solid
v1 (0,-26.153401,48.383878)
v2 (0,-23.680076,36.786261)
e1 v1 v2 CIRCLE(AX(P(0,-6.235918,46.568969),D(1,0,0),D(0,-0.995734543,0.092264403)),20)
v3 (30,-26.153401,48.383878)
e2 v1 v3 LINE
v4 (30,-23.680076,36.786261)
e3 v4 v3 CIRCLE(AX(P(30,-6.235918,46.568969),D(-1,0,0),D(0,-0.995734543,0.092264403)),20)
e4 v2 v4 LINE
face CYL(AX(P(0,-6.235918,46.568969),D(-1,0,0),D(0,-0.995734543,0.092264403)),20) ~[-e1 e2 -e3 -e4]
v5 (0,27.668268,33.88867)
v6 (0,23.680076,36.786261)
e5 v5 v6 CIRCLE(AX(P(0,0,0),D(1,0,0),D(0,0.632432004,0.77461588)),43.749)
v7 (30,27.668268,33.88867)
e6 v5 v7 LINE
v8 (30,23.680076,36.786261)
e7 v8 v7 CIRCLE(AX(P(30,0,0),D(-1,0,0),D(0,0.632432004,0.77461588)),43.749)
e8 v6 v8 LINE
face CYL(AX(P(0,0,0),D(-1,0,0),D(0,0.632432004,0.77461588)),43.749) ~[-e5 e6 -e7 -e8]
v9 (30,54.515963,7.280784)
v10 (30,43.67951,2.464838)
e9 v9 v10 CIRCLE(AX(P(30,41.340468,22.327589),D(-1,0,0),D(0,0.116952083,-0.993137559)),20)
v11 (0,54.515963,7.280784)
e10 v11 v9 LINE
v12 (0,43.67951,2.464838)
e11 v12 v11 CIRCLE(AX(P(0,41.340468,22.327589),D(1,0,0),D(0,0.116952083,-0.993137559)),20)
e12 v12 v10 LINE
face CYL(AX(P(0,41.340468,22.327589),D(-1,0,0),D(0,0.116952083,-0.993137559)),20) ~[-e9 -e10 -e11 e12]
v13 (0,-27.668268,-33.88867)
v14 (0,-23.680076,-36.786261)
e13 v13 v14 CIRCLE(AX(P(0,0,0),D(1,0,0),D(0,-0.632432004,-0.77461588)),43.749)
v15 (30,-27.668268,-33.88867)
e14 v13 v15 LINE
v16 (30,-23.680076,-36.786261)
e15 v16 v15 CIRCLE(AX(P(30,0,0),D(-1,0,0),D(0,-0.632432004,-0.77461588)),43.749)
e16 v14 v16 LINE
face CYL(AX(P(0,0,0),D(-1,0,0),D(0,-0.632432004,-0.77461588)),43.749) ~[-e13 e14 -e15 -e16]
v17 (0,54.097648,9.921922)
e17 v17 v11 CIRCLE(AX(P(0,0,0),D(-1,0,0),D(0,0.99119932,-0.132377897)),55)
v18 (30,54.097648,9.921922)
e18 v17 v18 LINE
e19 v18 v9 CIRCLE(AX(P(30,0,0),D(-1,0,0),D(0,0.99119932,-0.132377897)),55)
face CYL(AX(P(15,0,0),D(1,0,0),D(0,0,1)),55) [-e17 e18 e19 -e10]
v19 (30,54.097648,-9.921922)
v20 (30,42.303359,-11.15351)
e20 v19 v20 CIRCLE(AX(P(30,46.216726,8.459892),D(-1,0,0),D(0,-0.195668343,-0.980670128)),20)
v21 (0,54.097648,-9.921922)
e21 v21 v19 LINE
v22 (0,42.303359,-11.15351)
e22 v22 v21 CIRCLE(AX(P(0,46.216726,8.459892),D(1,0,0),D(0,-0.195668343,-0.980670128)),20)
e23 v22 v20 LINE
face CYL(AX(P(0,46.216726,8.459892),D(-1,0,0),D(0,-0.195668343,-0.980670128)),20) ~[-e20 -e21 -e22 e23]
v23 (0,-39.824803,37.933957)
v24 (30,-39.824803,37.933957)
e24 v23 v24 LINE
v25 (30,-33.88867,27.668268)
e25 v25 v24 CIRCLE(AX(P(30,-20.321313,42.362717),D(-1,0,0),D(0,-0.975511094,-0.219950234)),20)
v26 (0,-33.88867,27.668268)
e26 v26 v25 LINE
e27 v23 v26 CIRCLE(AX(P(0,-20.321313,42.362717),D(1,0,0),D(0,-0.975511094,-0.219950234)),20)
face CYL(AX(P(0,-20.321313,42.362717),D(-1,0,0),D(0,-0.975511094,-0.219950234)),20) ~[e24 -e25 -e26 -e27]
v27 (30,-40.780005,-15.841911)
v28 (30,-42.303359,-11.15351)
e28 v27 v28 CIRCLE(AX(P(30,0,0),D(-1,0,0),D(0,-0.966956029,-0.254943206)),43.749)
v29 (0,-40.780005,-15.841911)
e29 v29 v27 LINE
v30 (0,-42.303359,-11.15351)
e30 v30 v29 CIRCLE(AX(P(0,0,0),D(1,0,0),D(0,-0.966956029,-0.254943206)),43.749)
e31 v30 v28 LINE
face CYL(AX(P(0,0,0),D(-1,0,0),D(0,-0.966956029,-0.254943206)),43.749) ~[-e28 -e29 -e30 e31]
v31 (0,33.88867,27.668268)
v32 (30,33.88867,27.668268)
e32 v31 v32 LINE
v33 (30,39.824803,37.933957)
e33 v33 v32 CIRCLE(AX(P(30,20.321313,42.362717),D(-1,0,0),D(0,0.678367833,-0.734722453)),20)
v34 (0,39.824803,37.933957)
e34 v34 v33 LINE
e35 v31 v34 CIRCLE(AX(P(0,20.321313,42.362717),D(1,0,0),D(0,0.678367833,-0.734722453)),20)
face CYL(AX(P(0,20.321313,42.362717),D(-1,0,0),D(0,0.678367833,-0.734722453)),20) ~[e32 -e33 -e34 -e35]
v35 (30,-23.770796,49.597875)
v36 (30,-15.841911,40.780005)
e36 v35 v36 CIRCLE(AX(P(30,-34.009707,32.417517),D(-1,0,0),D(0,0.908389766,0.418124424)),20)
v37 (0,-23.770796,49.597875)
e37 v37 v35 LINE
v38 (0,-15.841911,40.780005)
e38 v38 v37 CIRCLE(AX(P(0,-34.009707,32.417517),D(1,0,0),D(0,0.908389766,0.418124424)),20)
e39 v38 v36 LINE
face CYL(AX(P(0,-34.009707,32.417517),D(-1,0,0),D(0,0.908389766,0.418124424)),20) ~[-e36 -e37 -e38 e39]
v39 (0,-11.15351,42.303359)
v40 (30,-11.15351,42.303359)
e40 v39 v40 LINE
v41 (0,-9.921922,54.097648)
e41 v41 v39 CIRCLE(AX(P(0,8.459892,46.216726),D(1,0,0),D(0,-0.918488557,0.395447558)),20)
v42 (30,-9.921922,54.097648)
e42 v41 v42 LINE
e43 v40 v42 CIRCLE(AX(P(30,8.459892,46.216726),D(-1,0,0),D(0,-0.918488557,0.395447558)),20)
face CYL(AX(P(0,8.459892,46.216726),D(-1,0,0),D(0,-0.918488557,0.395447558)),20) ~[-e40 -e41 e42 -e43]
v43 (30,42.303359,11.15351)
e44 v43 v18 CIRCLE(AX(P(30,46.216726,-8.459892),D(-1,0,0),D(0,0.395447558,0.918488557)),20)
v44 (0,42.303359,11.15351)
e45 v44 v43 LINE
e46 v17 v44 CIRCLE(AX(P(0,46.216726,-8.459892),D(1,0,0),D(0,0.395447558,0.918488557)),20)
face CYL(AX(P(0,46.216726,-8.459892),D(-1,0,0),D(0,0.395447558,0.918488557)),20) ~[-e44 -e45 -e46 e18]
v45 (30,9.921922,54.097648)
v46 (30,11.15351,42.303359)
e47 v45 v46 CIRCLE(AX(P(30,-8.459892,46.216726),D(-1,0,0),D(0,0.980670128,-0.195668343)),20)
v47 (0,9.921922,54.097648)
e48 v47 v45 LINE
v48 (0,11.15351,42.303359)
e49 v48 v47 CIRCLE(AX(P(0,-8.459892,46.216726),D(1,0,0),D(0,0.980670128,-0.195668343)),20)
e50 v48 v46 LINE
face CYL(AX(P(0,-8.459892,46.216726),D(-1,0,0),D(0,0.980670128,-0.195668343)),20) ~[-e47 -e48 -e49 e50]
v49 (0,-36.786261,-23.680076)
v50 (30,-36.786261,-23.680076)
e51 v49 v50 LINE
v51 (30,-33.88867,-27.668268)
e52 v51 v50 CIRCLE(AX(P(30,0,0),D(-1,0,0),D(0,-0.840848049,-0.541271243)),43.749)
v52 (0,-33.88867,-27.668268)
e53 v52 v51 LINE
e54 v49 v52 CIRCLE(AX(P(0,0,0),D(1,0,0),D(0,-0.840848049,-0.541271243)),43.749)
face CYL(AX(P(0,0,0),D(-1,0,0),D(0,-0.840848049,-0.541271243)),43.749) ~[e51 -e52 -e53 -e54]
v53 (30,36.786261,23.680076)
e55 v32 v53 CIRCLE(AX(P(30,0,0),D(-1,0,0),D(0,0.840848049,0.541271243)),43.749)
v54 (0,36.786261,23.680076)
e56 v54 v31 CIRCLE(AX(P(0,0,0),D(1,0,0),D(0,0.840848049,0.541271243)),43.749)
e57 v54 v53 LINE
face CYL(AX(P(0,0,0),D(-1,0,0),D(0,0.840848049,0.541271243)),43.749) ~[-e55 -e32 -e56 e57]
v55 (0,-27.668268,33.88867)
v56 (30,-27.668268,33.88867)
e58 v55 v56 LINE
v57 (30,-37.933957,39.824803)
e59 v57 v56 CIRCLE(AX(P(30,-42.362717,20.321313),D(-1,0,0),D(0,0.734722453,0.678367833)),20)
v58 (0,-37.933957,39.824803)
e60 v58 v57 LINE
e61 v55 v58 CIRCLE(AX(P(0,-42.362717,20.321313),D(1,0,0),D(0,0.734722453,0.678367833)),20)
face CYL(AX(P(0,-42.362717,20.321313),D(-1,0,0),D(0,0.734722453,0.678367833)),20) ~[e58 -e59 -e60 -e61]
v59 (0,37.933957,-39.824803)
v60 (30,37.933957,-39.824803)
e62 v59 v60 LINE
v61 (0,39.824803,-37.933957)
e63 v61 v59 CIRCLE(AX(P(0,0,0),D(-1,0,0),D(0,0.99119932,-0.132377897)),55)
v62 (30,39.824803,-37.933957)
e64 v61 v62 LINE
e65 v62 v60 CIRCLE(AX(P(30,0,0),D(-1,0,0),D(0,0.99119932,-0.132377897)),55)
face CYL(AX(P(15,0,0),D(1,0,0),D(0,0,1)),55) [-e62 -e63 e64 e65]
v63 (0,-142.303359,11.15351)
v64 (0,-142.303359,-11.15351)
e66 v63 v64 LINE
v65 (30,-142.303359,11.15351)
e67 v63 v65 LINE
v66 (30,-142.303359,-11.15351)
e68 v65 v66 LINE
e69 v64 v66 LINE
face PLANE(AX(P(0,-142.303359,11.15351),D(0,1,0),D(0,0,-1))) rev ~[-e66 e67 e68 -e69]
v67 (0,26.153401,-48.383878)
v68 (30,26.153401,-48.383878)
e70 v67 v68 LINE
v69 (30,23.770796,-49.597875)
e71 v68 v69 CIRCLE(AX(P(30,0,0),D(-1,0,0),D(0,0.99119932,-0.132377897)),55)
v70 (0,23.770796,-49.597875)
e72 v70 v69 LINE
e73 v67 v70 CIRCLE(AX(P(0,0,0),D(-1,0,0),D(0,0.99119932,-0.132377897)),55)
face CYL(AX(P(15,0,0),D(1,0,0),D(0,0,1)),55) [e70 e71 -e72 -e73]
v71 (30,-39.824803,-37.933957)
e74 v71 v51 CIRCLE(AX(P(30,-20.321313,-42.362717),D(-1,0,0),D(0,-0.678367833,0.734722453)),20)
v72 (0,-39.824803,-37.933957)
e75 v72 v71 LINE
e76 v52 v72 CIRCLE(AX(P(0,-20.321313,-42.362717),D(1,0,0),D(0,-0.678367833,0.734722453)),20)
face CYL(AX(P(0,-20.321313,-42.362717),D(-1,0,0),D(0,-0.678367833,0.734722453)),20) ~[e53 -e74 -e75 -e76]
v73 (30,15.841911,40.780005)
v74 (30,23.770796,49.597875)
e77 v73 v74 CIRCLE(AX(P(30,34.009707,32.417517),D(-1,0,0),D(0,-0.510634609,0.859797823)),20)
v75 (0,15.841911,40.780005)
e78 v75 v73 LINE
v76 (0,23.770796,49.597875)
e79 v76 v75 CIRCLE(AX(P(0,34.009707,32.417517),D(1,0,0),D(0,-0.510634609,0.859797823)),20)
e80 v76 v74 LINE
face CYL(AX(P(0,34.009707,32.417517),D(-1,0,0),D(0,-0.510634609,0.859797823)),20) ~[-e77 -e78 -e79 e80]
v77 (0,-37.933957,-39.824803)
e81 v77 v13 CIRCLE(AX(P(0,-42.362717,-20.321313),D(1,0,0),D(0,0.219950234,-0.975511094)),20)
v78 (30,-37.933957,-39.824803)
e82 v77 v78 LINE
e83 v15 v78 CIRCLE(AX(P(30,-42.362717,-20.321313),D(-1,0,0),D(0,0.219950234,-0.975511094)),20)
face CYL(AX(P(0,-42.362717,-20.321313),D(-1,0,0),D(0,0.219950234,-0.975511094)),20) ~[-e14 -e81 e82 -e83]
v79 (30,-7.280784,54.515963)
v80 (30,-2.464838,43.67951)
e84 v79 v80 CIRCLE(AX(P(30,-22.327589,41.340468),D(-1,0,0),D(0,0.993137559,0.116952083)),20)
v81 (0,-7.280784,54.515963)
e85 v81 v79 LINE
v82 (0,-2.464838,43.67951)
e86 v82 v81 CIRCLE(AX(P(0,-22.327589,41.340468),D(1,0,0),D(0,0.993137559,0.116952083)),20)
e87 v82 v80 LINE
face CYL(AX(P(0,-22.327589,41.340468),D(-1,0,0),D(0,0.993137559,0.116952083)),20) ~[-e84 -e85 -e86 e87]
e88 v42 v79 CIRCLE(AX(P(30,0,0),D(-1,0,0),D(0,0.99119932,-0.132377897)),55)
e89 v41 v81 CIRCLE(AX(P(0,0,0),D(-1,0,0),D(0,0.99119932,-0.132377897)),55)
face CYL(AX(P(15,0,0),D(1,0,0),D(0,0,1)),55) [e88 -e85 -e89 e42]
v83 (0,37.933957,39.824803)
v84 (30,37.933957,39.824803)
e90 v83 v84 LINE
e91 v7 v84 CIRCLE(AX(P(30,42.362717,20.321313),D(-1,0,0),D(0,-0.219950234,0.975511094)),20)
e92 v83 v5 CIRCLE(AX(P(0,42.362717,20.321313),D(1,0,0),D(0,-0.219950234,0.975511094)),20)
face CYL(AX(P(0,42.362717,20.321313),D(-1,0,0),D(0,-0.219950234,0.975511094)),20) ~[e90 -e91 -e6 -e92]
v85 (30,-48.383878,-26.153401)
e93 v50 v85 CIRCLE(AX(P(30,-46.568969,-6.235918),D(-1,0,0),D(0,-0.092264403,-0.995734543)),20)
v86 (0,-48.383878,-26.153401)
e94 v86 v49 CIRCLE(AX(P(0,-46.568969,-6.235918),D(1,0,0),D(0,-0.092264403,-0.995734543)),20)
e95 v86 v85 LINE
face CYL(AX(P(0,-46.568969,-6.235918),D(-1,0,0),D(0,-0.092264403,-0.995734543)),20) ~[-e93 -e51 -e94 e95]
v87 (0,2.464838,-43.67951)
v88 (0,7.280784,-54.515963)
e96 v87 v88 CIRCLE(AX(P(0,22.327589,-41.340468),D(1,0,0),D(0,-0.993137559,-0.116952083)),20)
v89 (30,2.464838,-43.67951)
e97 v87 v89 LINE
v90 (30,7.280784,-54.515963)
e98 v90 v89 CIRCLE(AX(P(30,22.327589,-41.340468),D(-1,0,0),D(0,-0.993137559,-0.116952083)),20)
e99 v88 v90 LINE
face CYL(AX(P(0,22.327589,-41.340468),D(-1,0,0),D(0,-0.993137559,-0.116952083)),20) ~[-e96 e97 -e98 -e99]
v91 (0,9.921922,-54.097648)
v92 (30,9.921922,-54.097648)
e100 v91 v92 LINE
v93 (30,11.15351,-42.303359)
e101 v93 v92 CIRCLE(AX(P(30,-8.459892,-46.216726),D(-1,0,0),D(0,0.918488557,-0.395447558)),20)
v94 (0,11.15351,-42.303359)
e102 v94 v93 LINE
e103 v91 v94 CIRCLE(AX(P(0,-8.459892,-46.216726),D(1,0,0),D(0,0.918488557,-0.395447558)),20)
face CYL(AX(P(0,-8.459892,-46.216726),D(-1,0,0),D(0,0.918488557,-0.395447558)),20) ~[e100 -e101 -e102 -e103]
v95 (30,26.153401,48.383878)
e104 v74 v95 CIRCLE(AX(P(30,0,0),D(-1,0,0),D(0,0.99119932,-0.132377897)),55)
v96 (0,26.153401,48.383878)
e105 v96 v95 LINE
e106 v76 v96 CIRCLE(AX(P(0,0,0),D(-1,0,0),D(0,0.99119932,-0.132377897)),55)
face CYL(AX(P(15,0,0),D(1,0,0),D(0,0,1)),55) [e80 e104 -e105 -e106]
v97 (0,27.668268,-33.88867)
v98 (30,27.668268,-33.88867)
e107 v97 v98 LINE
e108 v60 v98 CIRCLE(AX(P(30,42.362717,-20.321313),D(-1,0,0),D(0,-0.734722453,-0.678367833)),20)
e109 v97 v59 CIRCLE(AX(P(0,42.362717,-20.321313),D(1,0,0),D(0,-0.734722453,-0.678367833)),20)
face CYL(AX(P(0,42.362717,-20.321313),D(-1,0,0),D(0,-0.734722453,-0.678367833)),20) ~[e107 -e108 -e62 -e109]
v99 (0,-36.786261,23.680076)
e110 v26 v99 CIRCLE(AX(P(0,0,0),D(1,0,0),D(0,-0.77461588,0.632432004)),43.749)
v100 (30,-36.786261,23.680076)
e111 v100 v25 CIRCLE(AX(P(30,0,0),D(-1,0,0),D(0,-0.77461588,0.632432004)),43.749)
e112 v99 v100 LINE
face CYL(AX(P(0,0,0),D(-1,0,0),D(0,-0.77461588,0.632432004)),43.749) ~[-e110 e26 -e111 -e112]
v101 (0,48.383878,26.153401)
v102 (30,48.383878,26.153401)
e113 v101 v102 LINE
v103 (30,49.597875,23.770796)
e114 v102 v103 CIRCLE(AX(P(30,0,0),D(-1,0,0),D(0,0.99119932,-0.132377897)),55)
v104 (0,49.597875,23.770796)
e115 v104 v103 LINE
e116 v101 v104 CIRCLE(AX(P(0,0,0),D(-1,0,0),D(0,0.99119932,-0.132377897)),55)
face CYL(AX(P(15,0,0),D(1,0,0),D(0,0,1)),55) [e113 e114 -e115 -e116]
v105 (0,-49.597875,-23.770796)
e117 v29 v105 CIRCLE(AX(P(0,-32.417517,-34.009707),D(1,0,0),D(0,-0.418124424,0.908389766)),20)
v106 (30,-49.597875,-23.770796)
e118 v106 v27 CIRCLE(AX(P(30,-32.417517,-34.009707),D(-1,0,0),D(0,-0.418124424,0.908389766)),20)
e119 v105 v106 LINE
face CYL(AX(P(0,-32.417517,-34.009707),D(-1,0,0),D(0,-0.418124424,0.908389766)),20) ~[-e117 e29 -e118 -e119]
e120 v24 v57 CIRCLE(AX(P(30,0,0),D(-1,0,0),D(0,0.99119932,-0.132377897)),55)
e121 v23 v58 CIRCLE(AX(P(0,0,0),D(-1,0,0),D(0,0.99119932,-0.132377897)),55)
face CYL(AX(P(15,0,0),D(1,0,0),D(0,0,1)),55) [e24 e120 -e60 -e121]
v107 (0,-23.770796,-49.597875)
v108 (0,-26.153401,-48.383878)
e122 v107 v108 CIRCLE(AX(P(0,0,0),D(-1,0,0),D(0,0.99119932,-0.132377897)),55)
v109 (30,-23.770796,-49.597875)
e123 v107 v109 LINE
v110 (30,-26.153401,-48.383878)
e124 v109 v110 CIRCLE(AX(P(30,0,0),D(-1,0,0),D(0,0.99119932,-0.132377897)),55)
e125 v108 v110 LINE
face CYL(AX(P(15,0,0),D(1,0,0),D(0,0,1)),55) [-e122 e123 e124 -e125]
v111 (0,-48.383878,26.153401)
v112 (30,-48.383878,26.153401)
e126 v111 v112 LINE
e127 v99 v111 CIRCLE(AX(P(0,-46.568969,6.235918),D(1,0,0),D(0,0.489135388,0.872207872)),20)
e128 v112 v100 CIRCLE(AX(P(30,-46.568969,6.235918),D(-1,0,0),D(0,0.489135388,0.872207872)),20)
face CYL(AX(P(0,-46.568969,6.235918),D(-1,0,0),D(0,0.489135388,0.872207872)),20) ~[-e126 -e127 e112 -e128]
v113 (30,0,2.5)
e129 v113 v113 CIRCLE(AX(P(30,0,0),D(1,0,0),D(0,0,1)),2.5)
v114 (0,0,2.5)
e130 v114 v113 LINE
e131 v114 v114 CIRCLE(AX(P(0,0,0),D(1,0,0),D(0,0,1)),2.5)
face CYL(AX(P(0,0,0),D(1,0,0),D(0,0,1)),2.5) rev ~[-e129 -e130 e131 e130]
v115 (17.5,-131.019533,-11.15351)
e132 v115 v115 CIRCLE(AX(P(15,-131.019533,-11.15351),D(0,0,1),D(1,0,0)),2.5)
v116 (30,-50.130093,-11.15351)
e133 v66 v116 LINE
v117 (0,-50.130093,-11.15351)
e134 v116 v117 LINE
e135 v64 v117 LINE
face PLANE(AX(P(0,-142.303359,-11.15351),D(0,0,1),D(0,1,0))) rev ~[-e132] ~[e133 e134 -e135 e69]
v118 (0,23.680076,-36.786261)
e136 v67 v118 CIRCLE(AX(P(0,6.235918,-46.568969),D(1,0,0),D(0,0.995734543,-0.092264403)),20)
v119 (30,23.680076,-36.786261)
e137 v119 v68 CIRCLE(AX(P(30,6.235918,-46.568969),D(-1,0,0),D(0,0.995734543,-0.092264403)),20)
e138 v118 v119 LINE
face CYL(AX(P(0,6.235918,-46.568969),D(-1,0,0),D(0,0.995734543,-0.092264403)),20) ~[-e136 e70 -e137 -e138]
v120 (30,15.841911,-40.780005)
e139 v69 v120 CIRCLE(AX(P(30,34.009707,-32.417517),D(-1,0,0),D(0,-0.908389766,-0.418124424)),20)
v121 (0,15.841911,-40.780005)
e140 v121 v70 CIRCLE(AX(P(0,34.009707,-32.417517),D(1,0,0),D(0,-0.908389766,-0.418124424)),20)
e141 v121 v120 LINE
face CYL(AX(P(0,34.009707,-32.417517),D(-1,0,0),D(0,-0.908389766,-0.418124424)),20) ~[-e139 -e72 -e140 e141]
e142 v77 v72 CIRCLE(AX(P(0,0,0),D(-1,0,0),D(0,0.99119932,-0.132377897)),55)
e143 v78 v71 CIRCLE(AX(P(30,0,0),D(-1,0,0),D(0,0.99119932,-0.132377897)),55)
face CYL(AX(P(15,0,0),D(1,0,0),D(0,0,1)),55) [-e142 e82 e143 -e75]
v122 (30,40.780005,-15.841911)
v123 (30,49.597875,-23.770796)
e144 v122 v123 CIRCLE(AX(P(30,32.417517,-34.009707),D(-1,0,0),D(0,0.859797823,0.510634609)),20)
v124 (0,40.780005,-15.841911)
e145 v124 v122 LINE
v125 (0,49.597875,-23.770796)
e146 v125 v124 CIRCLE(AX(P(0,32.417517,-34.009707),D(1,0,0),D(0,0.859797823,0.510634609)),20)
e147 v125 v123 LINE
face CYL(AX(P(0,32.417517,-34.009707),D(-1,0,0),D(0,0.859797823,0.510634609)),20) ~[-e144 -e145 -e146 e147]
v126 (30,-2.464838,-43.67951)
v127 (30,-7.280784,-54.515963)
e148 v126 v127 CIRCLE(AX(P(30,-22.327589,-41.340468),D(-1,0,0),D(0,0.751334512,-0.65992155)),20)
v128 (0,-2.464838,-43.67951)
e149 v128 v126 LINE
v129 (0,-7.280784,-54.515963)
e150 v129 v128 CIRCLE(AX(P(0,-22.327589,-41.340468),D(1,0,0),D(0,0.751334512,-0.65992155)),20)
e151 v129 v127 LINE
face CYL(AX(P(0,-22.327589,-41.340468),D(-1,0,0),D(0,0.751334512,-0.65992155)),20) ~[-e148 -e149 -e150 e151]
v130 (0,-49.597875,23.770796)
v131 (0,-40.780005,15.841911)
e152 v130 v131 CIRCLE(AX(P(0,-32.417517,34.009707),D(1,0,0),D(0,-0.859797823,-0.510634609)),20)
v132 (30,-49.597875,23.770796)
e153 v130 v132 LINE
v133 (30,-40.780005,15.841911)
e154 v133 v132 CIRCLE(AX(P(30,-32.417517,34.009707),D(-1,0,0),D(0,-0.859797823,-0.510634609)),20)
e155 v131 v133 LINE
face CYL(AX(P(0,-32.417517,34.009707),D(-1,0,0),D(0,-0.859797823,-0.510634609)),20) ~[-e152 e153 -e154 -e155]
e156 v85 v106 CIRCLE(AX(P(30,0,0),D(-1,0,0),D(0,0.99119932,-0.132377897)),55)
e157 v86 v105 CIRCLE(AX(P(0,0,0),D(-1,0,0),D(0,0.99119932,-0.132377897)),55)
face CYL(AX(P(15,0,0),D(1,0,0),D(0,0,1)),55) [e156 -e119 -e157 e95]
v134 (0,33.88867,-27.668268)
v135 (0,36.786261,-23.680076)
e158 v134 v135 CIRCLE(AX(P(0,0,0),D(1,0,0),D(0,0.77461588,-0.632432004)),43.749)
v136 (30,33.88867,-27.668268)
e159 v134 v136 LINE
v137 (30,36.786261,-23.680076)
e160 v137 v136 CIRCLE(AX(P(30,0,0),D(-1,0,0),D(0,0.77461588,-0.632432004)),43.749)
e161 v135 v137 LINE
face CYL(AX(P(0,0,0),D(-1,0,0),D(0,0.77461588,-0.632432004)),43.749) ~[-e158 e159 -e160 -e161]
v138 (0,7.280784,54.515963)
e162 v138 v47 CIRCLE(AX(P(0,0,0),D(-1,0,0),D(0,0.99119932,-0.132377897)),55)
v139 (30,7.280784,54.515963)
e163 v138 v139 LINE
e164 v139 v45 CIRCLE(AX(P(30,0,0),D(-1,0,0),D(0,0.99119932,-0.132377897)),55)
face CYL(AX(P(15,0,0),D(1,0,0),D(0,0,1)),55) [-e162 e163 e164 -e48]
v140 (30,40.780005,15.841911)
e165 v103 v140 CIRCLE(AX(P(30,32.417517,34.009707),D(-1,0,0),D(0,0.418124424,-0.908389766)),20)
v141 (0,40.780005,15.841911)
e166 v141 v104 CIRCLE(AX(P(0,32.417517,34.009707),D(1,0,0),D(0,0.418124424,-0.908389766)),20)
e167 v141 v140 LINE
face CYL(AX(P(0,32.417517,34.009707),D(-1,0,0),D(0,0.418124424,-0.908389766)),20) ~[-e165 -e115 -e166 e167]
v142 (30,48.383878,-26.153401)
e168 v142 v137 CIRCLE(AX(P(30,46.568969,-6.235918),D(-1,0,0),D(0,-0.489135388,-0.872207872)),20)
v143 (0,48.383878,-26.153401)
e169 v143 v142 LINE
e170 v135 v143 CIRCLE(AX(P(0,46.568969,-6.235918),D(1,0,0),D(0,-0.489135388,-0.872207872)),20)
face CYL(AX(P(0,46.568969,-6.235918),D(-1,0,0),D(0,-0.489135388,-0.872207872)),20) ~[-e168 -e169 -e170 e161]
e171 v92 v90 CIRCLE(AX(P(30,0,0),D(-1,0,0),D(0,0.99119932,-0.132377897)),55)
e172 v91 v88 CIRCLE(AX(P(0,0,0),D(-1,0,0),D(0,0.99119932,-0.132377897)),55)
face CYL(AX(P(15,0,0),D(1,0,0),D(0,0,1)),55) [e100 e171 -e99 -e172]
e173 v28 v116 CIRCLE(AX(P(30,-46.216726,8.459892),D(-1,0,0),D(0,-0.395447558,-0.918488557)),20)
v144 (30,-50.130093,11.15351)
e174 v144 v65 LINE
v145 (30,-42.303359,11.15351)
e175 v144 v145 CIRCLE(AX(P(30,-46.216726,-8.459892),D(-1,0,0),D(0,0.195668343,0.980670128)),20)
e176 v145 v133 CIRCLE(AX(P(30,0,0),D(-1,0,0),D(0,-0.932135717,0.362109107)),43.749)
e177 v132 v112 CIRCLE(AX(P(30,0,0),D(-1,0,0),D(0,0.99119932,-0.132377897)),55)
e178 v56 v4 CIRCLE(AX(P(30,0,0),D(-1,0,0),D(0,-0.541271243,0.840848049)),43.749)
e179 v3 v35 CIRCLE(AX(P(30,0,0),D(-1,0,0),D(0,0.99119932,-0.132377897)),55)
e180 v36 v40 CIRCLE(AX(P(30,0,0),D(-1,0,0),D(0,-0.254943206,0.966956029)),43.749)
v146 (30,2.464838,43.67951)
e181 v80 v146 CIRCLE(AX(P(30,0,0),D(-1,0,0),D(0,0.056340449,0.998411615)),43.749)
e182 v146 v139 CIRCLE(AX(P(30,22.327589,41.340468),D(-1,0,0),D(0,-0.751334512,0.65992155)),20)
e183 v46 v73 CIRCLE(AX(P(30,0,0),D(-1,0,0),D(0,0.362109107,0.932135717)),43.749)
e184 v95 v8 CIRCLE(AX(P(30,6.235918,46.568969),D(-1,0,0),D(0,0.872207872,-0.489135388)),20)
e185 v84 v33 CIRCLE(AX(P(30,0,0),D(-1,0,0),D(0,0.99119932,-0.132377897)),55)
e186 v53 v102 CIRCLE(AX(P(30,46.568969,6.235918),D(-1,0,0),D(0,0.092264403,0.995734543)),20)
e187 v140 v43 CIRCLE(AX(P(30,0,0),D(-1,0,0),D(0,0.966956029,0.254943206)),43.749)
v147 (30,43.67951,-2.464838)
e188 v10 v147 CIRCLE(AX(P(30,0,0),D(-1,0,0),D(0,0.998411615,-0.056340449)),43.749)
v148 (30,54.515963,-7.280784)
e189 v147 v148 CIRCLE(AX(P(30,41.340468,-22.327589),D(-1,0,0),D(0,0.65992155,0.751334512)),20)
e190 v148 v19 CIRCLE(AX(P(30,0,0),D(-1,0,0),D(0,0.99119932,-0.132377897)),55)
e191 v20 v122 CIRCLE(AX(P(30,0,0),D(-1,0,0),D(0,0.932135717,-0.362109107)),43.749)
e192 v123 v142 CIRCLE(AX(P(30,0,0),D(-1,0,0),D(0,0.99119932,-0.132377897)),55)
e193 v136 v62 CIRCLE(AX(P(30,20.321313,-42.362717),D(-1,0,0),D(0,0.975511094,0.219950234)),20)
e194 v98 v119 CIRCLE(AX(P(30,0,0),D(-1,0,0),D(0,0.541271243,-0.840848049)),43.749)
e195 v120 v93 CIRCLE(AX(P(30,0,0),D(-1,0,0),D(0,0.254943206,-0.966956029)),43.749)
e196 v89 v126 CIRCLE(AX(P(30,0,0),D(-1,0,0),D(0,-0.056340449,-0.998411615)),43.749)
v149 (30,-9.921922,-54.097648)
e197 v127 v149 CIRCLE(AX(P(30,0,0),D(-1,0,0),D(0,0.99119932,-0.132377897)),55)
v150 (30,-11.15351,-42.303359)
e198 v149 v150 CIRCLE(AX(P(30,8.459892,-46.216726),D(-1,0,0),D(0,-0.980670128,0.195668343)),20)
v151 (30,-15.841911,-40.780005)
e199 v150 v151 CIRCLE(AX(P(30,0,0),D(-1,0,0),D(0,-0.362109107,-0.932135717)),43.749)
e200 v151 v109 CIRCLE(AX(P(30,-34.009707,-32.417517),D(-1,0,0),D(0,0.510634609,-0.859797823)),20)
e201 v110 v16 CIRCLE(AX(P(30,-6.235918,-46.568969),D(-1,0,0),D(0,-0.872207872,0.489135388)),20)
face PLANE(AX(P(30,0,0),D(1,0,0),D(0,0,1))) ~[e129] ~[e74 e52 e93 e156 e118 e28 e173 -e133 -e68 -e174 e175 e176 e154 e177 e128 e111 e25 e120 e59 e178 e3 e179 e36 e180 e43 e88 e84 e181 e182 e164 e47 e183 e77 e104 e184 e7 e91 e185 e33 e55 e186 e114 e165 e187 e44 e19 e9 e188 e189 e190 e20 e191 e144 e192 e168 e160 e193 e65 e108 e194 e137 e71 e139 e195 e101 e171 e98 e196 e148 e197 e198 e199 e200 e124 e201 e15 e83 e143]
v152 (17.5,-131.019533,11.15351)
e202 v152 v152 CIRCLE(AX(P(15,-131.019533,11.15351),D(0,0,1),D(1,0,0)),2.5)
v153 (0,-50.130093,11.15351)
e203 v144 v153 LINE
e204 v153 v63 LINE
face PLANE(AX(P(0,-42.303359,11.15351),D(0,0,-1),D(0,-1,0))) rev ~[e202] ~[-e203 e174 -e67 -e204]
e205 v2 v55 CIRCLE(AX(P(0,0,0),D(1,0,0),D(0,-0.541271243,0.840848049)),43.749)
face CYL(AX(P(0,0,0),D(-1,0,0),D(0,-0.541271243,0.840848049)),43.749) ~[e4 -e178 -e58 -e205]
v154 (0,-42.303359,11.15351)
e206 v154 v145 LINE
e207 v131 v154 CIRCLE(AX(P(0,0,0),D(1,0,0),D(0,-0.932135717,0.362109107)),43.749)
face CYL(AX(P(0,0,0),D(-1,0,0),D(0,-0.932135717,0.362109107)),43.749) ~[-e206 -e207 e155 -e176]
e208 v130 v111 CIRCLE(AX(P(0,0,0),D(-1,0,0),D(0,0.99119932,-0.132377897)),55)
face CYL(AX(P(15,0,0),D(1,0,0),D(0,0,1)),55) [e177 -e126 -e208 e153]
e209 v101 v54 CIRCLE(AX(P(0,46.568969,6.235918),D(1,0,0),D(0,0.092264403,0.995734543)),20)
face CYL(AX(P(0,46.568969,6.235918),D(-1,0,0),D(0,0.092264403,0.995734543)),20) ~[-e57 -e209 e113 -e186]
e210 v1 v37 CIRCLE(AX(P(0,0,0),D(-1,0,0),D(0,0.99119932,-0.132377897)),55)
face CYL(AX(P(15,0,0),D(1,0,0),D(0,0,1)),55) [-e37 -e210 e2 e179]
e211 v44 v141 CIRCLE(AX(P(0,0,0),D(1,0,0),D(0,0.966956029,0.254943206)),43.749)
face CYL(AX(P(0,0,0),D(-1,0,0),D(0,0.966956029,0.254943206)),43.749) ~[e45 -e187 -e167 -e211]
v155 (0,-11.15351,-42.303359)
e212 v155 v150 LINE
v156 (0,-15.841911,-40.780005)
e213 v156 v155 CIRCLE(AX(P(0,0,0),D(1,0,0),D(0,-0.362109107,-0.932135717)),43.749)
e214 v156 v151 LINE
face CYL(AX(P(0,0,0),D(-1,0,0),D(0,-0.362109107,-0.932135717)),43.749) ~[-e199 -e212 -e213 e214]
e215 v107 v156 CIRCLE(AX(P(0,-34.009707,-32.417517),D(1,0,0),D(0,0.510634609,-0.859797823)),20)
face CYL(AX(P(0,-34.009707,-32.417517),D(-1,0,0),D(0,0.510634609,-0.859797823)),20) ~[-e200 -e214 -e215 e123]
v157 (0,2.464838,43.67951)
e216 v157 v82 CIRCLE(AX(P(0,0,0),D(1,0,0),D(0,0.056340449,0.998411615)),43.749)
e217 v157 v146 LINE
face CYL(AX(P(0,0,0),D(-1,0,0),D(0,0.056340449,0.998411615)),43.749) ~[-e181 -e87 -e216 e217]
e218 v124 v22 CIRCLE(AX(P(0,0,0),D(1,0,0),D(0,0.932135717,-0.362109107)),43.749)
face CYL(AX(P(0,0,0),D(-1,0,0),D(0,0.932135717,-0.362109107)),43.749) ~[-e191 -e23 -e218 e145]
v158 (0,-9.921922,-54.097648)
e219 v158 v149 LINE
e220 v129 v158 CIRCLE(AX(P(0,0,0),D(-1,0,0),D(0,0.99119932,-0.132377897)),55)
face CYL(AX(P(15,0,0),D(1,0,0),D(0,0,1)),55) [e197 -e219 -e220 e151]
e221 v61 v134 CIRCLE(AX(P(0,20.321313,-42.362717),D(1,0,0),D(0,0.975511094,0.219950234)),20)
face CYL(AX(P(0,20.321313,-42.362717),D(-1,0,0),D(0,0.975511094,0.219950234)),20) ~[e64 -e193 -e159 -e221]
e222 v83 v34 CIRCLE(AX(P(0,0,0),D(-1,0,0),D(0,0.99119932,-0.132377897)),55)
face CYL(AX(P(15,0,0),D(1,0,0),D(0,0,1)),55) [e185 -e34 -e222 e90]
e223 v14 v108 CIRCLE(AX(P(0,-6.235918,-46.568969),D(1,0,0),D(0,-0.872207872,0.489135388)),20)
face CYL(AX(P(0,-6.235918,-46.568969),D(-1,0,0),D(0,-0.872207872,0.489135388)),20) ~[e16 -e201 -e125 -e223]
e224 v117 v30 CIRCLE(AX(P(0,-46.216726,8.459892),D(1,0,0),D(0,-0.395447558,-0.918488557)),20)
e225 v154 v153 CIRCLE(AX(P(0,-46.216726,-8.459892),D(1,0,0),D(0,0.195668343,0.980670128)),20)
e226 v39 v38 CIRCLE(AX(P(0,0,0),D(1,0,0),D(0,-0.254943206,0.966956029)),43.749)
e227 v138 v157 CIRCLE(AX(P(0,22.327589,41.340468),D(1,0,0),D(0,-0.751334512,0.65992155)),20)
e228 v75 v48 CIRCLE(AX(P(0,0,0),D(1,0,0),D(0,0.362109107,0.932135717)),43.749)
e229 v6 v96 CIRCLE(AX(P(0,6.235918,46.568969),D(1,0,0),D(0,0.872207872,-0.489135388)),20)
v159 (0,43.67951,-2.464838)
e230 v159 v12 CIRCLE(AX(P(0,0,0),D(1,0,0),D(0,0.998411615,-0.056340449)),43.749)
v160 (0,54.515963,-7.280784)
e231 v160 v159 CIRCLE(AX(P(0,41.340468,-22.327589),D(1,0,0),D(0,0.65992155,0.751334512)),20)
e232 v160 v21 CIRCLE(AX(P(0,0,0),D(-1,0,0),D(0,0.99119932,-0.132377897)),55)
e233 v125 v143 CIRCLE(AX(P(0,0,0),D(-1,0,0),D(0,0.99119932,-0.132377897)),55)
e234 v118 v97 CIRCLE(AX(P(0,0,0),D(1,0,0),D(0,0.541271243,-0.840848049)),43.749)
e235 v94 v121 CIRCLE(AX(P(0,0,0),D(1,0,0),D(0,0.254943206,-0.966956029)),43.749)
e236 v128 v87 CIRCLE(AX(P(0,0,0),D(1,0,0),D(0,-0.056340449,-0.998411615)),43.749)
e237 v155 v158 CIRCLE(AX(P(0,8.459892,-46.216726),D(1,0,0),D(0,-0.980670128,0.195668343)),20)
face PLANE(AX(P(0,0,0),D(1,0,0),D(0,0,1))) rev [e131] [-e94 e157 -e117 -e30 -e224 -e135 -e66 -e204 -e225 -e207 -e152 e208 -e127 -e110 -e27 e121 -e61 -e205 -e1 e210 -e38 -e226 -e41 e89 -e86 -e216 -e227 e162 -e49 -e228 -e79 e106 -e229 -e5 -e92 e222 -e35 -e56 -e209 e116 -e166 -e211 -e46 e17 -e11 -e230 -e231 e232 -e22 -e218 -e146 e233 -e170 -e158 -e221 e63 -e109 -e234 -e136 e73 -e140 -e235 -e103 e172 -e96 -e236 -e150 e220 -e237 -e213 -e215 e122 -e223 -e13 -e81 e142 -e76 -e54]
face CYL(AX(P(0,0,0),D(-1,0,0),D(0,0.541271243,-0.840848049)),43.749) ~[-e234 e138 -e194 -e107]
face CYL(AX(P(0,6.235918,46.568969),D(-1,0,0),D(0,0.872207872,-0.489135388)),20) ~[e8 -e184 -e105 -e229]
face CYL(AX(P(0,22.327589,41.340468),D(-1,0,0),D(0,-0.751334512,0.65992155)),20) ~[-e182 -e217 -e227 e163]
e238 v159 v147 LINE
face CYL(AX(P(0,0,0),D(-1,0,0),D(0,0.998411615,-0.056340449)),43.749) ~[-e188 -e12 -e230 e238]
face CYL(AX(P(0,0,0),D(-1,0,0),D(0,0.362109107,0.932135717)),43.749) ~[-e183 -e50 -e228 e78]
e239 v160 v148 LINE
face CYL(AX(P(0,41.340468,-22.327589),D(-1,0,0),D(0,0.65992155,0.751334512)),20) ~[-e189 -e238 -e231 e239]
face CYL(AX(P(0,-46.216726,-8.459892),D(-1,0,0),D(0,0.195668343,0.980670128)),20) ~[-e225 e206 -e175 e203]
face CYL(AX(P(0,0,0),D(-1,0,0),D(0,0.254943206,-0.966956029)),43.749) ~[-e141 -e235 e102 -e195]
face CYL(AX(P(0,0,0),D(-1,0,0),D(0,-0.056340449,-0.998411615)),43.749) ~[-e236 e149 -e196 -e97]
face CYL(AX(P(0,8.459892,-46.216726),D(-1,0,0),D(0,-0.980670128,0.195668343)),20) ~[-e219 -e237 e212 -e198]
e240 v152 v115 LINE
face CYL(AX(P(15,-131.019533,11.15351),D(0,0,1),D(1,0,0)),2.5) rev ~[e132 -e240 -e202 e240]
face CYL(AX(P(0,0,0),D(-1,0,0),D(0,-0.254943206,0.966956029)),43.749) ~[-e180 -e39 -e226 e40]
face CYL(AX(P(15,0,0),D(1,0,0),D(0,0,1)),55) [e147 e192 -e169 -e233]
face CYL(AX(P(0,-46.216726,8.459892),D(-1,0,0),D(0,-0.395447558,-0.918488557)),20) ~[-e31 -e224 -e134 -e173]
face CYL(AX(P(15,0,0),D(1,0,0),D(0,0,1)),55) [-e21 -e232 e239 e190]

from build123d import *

# Parameters (mm, degrees)
BASPROSKE_W         = 30
BASPROSKE_H         = 55
TOOTHCUT_DEPTH      = 84.366660003
TEETHCUTS_COUNT     = 20
BORSKE_R            = 2.5
BORE_DEPTH          = 50.0000508
EXTRUDE_START       = -30
EXTRUDE_1_DEPTH     = 30
SKETCH_7_R          = 2.5
CUT_EXTRUDE_1_DEPTH = 160.570441323


with BuildPart() as part:
    # BasProSke → Base-Revolve (revolve)
    with BuildSketch(Plane(origin=(0, 0, 0), x_dir=(1, 0, 0), z_dir=(0, 1, 0)), mode=Mode.PRIVATE) as base_revolve_sk:
        with Locations((15, 27.5)):
            Rectangle(BASPROSKE_W, BASPROSKE_H)
    revolve(base_revolve_sk.sketch.rotate(Axis((-10, 0, 0), (1, 0, 0)), 180), axis=Axis((-10, 0, 0), (1, 0, 0)))

    # TooCutSke → ToothCut (cut, through all)
    with BuildSketch(Plane(origin=(0, 0, 0), x_dir=(0, 0, -1), z_dir=(1, 0, 0))):
        with BuildLine():
            ThreePointArc((2.464838288, 43.679509764), (0, 43.749), (-2.464838288, 43.679509764))
            ThreePointArc((-2.464838288, 43.679509764), (-4.057398861, 49.476814676), (-7.300899231, 54.538899105))
            ThreePointArc((-7.300899231, 54.538899105), (0, 55.0254), (7.300899231, 54.538899105))
            ThreePointArc((7.300899231, 54.538899105), (4.057398861, 49.476814676), (2.464838288, 43.679509764))
        make_face()
    toothcut = extrude(amount=TOOTHCUT_DEPTH, mode=Mode.SUBTRACT)

    # TeethCuts: ToothCut ×20 about axis
    teethcuts_axis = Axis((0, 0, 0), (1, 0, 0))
    for i in range(1, TEETHCUTS_COUNT):
        add(toothcut.rotate(teethcuts_axis, i * 360 / TEETHCUTS_COUNT), mode=Mode.SUBTRACT)

    # BorSke → Bore (cut, symmetric)
    with BuildSketch(Plane(origin=(0, 0, 0), x_dir=(0, 0, -1), z_dir=(1, 0, 0))):
        with Locations(Location((0, 0, 0), (0, 0, 180))):
            Circle(BORSKE_R)
    extrude(amount=BORE_DEPTH, both=True, mode=Mode.SUBTRACT)

    # 草图6 → 凸台-拉伸1 (add)
    with BuildSketch(Plane(origin=(30, 0, 0), x_dir=(0, 0, -1), z_dir=(1, 0, 0)).offset(EXTRUDE_START)):
        with BuildLine():
            Line((-11.153510308, -42.303359309), (-11.153510308, -142.303359309))
            Line((-11.153510308, -142.303359309), (11.153510308, -142.303359309))
            Line((11.153510308, -142.303359309), (11.153510308, -42.303359309))
            ThreePointArc((11.153510308, -42.303359309), (0, -43.749), (-11.153510308, -42.303359309))
        make_face()
    extrude(amount=EXTRUDE_1_DEPTH)

    # 草图7 → 切除-拉伸1 (cut, through all)
    with BuildSketch(Plane.XY.offset(11.153510308)):
        with Locations((15, -131.019533407)):
            Circle(SKETCH_7_R)
    extrude(amount=-CUT_EXTRUDE_1_DEPTH, mode=Mode.SUBTRACT)


solid = part.part
